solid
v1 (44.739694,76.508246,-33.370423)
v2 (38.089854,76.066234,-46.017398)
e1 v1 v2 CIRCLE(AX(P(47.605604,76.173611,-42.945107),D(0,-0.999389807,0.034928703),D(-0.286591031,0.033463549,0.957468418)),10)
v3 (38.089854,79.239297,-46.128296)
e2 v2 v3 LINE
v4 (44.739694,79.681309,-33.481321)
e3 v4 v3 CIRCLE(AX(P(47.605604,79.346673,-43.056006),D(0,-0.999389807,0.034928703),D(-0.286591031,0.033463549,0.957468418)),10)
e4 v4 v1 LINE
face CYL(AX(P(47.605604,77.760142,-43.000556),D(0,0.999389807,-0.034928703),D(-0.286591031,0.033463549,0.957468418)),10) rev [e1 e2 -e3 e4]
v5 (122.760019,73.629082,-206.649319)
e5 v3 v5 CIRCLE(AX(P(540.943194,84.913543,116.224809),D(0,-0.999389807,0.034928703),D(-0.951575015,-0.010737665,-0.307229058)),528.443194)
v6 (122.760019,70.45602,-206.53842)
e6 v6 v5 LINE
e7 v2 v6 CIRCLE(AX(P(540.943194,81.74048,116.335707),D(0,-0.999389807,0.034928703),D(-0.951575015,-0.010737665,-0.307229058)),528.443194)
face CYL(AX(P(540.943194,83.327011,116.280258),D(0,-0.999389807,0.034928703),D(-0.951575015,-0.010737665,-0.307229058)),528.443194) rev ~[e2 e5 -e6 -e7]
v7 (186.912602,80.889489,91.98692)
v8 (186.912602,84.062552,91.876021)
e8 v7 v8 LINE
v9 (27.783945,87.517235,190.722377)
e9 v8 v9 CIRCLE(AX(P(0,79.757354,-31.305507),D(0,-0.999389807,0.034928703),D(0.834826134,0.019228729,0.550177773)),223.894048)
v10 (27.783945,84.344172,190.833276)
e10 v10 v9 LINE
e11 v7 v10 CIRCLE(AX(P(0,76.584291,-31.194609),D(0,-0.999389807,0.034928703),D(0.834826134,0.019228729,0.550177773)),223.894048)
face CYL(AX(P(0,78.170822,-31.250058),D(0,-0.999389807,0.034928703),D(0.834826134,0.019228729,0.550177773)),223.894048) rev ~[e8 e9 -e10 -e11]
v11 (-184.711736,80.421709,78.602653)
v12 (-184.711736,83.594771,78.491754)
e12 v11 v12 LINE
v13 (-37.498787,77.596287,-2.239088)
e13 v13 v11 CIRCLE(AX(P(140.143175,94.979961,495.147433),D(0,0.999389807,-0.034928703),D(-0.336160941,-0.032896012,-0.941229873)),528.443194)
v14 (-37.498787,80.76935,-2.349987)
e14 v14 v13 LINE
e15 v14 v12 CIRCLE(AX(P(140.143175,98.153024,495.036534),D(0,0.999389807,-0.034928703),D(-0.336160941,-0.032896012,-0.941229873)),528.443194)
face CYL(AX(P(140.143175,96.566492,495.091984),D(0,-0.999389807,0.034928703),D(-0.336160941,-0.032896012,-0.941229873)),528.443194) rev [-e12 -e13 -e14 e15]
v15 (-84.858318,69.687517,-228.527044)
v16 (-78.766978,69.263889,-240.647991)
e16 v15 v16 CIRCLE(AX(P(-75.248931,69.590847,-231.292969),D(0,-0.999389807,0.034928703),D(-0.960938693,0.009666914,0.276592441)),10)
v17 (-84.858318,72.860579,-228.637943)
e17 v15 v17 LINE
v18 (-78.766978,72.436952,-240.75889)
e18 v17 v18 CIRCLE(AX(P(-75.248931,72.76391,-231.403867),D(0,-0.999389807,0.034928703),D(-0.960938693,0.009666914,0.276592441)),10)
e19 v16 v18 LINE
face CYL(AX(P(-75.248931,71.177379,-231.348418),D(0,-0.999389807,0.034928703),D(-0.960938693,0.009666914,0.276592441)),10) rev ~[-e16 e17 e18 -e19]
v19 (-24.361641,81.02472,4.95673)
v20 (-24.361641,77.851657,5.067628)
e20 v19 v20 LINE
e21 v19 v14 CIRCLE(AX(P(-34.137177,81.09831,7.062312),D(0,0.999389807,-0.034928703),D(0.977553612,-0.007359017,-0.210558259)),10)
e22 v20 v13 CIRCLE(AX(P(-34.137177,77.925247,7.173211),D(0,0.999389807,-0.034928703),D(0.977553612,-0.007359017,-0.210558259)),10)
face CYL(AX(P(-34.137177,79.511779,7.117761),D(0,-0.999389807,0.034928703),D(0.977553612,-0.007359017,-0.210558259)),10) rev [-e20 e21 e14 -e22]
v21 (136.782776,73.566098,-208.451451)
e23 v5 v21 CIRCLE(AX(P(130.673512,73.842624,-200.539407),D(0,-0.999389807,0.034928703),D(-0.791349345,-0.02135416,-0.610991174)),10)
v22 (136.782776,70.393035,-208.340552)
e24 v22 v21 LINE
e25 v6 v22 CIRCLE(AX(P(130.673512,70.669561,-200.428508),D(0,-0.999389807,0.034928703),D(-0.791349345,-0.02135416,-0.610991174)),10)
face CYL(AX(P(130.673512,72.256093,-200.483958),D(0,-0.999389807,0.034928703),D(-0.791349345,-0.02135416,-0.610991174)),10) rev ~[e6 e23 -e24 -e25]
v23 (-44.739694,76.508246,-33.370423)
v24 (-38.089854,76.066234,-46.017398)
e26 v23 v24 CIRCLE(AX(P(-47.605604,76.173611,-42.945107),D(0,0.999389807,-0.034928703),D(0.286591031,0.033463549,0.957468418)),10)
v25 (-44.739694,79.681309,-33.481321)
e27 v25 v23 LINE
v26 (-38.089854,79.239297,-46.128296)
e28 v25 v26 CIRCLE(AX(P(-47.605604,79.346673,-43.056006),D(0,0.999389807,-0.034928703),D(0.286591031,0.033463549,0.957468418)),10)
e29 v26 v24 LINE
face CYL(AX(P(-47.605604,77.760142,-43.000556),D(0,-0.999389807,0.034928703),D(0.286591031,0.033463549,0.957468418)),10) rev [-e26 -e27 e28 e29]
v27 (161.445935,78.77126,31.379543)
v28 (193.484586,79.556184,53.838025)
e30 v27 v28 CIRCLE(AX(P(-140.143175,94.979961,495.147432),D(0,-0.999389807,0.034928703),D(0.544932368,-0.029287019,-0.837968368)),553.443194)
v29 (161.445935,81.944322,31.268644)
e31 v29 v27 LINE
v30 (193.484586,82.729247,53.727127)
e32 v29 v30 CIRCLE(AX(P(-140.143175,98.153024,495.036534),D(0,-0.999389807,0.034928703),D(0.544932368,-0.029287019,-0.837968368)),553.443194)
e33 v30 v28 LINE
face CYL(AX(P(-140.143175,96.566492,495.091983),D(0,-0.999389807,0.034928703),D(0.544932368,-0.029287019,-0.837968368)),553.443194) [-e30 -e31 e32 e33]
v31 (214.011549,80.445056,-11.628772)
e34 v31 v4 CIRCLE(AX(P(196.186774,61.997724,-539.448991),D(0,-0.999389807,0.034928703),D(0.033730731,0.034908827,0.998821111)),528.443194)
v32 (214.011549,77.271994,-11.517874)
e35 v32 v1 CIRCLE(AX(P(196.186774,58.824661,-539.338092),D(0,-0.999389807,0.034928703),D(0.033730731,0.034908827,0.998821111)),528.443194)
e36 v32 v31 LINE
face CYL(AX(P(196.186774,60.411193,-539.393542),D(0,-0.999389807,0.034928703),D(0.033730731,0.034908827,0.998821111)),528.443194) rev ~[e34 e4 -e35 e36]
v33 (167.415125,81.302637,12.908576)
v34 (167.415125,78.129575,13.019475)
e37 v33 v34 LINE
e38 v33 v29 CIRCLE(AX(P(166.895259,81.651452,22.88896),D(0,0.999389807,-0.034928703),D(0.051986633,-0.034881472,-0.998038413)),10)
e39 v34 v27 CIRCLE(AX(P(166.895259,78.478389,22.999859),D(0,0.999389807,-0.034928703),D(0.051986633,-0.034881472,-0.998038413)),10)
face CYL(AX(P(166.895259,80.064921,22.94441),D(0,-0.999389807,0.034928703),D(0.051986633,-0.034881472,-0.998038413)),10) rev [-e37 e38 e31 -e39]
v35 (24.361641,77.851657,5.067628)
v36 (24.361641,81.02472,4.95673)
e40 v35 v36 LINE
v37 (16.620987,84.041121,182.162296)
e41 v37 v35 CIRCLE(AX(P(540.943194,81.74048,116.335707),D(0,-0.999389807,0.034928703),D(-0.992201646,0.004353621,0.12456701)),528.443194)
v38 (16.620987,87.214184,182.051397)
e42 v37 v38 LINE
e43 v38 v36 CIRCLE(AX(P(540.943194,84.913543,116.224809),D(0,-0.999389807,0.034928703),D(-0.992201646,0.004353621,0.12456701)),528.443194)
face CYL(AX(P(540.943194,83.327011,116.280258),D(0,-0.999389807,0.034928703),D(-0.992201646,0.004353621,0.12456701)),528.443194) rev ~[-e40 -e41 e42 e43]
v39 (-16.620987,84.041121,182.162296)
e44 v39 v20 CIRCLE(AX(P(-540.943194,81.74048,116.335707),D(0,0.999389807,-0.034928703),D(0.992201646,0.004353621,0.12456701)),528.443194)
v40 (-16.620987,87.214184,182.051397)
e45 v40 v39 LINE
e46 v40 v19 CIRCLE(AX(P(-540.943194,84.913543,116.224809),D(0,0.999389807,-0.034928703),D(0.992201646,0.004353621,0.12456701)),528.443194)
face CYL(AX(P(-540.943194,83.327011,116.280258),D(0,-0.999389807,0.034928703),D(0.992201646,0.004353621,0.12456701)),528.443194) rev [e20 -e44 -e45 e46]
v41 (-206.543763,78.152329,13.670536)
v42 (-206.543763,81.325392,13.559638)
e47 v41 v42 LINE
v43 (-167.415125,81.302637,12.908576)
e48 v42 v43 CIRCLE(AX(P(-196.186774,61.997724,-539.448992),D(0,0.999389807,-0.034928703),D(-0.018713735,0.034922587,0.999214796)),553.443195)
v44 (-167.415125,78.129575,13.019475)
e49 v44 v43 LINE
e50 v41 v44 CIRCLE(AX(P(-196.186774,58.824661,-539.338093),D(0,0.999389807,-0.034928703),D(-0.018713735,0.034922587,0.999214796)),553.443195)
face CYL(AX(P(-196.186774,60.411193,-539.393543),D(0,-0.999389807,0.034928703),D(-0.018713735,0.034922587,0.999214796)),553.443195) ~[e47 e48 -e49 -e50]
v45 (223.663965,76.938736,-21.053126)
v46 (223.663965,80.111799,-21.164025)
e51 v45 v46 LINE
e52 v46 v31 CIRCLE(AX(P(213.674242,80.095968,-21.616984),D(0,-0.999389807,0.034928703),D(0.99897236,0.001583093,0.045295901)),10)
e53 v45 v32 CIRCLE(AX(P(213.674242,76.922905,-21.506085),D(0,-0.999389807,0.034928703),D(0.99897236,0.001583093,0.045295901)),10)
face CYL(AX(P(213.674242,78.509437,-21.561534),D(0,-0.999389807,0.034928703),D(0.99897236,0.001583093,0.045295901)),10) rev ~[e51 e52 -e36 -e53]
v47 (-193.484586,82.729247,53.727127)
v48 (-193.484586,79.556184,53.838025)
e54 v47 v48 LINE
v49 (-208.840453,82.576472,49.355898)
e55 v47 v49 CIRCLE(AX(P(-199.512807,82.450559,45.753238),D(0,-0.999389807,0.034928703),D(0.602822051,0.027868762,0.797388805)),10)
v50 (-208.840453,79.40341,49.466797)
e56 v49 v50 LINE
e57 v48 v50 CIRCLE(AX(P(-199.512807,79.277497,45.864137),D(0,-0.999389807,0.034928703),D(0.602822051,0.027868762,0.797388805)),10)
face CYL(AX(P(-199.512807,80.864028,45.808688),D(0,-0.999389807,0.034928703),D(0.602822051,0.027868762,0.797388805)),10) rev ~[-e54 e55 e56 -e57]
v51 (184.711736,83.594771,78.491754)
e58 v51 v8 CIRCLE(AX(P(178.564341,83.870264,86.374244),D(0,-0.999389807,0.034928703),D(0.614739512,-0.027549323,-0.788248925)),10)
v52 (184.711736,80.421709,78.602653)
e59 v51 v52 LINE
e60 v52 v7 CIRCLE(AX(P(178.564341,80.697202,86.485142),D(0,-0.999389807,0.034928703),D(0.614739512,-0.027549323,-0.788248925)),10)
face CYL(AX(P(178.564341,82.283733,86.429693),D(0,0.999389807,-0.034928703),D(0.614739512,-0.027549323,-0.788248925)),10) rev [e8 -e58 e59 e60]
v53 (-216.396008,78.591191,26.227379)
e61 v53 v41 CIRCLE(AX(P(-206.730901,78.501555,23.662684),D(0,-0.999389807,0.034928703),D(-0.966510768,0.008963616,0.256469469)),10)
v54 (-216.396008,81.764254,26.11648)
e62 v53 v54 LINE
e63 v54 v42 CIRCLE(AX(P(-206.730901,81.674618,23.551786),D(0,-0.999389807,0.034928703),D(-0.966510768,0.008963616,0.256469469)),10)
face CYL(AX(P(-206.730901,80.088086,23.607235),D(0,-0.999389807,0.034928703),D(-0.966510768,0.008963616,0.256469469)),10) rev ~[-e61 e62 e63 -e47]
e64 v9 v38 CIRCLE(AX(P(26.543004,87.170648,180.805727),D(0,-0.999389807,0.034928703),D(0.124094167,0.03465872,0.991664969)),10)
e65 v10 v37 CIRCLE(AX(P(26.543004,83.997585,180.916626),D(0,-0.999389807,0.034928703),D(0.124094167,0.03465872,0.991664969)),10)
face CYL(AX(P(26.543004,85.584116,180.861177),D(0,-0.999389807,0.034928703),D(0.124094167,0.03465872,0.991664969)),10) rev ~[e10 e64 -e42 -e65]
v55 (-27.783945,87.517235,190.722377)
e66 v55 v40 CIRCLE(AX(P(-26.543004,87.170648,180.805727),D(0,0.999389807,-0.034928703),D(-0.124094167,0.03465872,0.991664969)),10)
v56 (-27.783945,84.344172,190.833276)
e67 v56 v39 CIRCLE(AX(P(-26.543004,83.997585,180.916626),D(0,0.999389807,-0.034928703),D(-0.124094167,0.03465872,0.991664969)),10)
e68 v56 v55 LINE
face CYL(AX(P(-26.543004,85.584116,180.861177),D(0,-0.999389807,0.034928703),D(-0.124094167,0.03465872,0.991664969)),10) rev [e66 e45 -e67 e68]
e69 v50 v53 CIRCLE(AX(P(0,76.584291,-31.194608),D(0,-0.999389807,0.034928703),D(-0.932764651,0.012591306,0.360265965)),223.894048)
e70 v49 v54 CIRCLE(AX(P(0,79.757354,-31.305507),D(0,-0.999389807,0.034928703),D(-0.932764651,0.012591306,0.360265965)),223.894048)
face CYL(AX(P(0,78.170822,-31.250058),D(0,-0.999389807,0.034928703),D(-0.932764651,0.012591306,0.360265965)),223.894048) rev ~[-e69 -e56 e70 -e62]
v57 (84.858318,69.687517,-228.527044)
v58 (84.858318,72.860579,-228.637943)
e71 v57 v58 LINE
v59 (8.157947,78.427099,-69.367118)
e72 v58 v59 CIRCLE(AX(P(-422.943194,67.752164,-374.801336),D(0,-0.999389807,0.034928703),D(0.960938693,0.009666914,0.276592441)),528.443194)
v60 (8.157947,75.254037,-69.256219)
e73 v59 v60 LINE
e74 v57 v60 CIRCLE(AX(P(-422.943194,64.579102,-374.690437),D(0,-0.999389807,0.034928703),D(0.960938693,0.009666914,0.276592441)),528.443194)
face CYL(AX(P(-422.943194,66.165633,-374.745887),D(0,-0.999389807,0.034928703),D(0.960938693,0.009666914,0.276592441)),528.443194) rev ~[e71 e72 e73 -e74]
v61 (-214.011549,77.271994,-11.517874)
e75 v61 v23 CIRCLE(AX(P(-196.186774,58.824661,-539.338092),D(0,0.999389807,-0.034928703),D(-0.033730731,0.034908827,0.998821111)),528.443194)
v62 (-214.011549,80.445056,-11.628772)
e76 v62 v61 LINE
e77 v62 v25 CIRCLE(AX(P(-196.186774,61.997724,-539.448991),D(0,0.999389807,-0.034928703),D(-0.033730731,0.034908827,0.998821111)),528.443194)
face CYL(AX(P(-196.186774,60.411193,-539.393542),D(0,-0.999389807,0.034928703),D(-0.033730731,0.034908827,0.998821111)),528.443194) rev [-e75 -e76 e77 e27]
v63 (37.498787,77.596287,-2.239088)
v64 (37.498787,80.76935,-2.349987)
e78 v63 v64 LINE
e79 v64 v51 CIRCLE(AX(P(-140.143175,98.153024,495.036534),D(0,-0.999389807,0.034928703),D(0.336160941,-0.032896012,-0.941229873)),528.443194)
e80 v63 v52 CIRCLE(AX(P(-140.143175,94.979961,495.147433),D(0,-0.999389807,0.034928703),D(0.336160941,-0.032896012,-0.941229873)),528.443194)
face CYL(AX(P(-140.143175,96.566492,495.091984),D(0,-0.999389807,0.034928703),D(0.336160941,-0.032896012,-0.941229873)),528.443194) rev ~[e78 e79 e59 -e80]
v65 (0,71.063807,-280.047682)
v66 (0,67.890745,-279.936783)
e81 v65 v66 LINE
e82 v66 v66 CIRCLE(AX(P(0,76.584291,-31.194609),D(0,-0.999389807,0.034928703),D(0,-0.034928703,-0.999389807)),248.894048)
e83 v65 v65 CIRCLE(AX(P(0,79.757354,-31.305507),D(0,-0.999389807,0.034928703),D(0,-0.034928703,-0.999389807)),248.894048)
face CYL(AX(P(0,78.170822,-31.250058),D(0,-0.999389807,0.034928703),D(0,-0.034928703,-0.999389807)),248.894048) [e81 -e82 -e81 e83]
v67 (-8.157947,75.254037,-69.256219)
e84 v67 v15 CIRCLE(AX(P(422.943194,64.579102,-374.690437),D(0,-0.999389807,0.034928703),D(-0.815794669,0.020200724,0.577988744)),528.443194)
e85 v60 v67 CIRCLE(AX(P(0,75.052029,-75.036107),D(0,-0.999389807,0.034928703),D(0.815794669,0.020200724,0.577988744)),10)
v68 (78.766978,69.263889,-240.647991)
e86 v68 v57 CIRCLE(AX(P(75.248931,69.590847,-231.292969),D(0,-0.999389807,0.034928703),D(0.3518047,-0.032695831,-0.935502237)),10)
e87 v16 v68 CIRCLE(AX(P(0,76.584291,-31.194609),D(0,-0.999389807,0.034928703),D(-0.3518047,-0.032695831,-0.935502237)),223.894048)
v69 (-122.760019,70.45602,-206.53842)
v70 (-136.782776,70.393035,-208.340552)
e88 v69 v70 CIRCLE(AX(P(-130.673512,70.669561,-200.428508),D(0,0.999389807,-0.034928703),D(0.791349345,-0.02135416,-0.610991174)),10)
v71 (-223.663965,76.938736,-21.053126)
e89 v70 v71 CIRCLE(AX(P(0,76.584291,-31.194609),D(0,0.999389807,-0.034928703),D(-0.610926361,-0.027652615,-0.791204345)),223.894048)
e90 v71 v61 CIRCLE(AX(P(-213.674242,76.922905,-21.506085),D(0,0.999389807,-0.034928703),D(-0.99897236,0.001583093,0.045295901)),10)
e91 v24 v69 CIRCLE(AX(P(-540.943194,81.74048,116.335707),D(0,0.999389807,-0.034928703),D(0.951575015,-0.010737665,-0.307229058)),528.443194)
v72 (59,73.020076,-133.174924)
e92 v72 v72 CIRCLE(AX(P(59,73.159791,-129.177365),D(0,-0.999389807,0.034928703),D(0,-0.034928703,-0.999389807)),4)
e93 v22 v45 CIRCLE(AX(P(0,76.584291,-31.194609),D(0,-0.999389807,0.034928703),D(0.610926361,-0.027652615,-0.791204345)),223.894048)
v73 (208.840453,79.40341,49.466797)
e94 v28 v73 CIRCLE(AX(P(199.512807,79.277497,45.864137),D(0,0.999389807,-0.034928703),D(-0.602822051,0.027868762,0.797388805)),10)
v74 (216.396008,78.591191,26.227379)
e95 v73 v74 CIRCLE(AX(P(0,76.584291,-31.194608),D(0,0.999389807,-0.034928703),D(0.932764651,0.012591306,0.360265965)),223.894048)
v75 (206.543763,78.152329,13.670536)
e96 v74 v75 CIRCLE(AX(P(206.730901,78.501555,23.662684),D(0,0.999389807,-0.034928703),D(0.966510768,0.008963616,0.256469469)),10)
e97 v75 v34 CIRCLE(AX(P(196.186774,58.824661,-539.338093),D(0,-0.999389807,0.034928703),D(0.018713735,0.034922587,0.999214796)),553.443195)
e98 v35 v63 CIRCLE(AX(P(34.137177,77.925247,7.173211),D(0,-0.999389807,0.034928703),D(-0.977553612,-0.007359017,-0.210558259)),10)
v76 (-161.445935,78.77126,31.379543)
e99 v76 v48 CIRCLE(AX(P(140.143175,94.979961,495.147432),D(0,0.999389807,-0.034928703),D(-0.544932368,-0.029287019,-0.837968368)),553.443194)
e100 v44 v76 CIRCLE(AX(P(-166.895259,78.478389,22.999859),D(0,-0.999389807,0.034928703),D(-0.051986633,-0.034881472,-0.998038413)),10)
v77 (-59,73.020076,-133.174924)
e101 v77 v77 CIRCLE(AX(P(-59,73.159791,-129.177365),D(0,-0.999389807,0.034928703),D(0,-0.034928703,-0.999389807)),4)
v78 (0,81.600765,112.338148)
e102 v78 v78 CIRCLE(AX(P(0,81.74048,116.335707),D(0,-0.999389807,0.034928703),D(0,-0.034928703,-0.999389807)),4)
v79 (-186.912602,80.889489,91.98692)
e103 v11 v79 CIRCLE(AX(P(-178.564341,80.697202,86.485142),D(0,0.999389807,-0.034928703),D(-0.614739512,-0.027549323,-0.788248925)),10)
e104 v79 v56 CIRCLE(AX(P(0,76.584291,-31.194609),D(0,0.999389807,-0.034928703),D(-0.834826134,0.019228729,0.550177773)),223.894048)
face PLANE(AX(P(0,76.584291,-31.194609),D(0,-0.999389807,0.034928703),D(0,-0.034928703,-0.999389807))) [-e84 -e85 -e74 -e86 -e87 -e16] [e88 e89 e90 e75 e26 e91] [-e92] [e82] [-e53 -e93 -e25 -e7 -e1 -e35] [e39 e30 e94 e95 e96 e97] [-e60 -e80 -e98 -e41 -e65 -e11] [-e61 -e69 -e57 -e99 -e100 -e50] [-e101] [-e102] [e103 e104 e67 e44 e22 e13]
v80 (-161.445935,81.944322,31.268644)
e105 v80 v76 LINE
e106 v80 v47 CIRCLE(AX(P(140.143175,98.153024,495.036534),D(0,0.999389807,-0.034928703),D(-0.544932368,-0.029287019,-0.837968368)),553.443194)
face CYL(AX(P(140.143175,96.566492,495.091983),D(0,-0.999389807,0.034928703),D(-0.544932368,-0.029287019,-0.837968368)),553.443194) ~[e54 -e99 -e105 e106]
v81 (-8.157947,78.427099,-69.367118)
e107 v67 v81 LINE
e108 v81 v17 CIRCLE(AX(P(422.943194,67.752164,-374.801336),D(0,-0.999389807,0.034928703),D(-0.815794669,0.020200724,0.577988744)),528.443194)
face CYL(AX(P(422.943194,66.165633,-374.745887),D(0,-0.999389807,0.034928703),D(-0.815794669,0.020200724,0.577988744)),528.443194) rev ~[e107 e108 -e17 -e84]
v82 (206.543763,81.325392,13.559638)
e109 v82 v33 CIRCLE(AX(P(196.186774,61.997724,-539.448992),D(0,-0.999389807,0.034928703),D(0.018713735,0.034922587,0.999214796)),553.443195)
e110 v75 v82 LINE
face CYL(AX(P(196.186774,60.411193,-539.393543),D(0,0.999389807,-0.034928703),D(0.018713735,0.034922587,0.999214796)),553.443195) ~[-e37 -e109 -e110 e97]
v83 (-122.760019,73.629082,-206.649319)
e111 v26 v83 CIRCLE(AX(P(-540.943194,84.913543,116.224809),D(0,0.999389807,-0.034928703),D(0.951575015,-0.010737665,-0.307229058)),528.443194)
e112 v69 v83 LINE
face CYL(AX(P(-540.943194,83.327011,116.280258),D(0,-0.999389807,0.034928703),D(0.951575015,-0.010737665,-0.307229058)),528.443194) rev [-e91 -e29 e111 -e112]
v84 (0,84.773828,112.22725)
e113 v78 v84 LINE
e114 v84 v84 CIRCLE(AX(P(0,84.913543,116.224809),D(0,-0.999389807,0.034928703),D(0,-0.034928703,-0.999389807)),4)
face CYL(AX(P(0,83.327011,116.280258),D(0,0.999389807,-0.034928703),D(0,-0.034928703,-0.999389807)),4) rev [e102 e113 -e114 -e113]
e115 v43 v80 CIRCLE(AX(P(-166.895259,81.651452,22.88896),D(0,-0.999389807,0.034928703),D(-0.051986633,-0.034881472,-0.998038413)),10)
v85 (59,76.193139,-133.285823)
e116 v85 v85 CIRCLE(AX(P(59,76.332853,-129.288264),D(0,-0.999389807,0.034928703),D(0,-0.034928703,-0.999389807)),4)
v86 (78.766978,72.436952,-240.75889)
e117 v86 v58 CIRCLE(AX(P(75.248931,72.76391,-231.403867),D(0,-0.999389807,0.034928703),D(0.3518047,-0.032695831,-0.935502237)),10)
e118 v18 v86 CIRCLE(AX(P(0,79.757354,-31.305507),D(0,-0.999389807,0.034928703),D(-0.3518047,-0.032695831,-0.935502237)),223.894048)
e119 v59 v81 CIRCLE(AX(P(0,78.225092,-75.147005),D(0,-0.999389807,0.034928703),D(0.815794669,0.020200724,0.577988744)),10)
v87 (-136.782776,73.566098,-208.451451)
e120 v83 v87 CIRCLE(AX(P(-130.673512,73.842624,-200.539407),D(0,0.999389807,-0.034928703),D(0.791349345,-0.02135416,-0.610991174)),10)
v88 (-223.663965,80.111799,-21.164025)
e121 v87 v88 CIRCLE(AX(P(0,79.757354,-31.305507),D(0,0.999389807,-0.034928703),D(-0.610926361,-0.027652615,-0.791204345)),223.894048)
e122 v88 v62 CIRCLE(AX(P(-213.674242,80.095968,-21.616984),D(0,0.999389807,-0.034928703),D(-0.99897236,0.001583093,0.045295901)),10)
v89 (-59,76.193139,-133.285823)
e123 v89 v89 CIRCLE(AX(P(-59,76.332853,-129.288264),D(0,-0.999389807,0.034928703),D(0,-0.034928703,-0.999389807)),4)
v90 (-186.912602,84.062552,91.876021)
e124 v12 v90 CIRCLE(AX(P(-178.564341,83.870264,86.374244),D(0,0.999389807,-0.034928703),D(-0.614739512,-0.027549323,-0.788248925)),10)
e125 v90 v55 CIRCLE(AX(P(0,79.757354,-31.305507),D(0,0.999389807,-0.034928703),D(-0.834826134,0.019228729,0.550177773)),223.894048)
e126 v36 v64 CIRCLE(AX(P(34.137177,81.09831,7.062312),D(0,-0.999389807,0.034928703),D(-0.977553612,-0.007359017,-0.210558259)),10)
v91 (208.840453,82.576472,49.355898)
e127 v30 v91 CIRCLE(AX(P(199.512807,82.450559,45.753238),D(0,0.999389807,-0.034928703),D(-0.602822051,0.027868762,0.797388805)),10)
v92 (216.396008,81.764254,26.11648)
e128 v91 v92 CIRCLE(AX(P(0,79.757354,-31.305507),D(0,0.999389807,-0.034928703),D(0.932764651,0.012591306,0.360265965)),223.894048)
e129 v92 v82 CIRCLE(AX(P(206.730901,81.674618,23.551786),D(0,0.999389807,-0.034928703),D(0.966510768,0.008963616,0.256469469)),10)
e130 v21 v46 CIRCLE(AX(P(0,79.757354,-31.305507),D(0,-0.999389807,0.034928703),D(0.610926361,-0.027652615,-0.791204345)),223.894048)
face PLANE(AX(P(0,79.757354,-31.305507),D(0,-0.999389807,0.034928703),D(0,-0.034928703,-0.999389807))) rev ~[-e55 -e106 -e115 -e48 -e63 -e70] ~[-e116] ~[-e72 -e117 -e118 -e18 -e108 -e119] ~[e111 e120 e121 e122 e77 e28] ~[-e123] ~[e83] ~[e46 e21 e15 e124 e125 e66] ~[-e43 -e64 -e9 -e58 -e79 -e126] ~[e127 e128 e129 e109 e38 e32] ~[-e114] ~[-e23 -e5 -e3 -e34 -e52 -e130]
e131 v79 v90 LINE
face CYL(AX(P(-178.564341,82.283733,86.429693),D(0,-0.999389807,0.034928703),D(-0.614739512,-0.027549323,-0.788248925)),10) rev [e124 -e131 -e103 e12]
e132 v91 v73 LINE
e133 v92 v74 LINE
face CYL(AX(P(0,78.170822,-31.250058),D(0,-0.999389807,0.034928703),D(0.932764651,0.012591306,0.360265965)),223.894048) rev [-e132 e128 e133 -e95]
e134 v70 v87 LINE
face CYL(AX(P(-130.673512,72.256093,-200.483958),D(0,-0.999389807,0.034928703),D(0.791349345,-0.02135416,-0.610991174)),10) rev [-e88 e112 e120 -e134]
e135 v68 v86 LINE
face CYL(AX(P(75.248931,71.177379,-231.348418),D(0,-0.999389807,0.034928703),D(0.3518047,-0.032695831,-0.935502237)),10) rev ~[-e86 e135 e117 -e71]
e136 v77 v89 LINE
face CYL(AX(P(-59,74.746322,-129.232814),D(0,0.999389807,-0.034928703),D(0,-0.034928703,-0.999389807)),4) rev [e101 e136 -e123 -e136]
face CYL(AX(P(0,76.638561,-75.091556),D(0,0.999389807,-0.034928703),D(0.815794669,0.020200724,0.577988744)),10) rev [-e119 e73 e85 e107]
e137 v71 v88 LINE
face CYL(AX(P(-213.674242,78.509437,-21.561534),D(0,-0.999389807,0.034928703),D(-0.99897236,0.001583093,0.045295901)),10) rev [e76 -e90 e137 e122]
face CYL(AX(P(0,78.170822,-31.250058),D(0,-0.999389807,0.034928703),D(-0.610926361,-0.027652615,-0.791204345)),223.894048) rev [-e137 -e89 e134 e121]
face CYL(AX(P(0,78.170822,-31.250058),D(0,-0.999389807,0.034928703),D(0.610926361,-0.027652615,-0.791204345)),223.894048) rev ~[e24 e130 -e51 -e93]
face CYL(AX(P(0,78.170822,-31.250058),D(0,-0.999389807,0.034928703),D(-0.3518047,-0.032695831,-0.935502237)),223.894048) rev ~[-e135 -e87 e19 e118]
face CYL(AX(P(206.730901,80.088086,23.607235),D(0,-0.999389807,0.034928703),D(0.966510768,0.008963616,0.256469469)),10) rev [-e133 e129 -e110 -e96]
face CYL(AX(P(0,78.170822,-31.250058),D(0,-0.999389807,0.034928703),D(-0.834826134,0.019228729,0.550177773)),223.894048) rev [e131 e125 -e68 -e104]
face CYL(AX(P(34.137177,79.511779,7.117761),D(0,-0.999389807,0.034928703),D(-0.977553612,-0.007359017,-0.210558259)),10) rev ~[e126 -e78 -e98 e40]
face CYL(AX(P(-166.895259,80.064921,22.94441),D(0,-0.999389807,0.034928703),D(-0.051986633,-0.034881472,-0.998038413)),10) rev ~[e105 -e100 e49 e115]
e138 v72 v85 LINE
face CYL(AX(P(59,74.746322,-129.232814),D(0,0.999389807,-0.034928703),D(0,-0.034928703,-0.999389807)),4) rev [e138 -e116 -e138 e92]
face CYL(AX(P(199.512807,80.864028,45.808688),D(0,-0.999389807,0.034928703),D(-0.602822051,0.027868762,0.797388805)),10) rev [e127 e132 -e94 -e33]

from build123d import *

# Parameters (mm, degrees)
SKETCH1_R           = 248.894047882
SKETCH1_R_2         = 4
BOSS_EXTRUDE1_DEPTH = 1.5875


with BuildPart() as part:
    # Sketch1 → Boss-Extrude1 (new, symmetric)
    with BuildSketch(Plane(origin=(0, 79.166310833, -2.766864901), x_dir=(0, -0.03492870325036397, -0.9993898066766781), z_dir=(0, -0.9993898066766781, 0.03492870325036397))):
        with Locations((28.500583785, 0)):
            Circle(SKETCH1_R)
        with Locations((-119.119809099, 0)):
            Circle(SKETCH1_R_2, mode=Mode.SUBTRACT)
        with Locations((126.54316519, -59)):
            Circle(SKETCH1_R_2, mode=Mode.SUBTRACT)
        with Locations((126.54316519, 59)):
            Circle(SKETCH1_R_2, mode=Mode.SUBTRACT)
        with BuildLine():
            ThreePointArc((238.081851524, -78.766978422), (252.394631667, 0), (238.081851524, 78.766978422))
            ThreePointArc((238.081851524, 78.766978422), (233.209259095, 84.18518249), (225.953504109, 84.858318353))
            ThreePointArc((225.953504109, 84.858318353), (143.037826046, 53.222841583), (66.585433619, 8.157946694))
            ThreePointArc((66.585433619, 8.157946694), (62.36885006, 0), (66.585433619, -8.157946694))
            ThreePointArc((66.585433619, -8.157946694), (143.037826046, -53.222841583), (225.953504109, -84.858318353))
            ThreePointArc((225.953504109, -84.858318353), (233.209259095, -84.18518249), (238.081851524, -78.766978422))
        make_face(mode=Mode.SUBTRACT)
        with BuildLine():
            ThreePointArc((-184.986589143, 16.62098717), (-96.058103224, 13.003455955), (-7.783793413, 24.361640995))
            ThreePointArc((-7.783793413, 24.361640995), (-1.152695169, 29.274262086), (-0.472616045, 37.498786528))
            ThreePointArc((-0.472616045, 37.498786528), (-35.031535638, 114.339868269), (-81.363716284, 184.71173625))
            ThreePointArc((-81.363716284, 184.71173625), (-87.629404707, 188.431983672), (-94.756155234, 186.912602473))
            ThreePointArc((-94.756155234, 186.912602473), (-161.65529586, 118.191734539), (-193.66286294, 27.783945296))
            ThreePointArc((-193.66286294, 27.783945296), (-191.635746069, 20.406253949), (-184.986589143, 16.62098717))
        make_face(mode=Mode.SUBTRACT)
        with BuildLine():
            ThreePointArc((-184.986589143, -16.62098717), (-96.058103224, -13.003455955), (-7.783793413, -24.361640995))
            ThreePointArc((-7.783793413, -24.361640995), (-1.152695169, -29.274262086), (-0.472616045, -37.498786528))
            ThreePointArc((-0.472616045, -37.498786528), (-35.031535638, -114.339868269), (-81.363716284, -184.71173625))
            ThreePointArc((-81.363716284, -184.71173625), (-87.629404707, -188.431983672), (-94.756155234, -186.912602473))
            ThreePointArc((-94.756155234, -186.912602473), (-161.65529586, -118.191734539), (-193.66286294, -27.783945296))
            ThreePointArc((-193.66286294, -27.783945296), (-191.635746069, -20.406253949), (-184.986589143, -16.62098717))
        make_face(mode=Mode.SUBTRACT)
        with BuildLine():
            ThreePointArc((205.754686462, 136.78277582), (122.671836524, 203.126364203), (18.352909122, 223.663965305))
            ThreePointArc((18.352909122, 223.663965305), (11.694176969, 220.704171659), (8.811835123, 214.01154902))
            ThreePointArc((8.811835123, 214.01154902), (12.86563705, 128.486999921), (30.677726566, 44.739693841))
            ThreePointArc((30.677726566, 44.739693841), (35.60655975, 38.753388876), (43.332423143, 38.089854005))
            ThreePointArc((43.332423143, 38.089854005), (127.305687629, 73.474816574), (203.951454434, 122.760018767))
            ThreePointArc((203.951454434, 122.760018767), (207.756142558, 129.39808179), (205.754686462, 136.78277582))
        make_face(mode=Mode.SUBTRACT)
        with BuildLine():
            ThreePointArc((8.811835123, -214.01154902), (12.86563705, -128.486999921), (30.677726566, -44.739693841))
            ThreePointArc((30.677726566, -44.739693841), (35.60655975, -38.753388876), (43.332423143, -38.089854005))
            ThreePointArc((43.332423143, -38.089854005), (127.305687629, -73.474816574), (203.951454434, -122.760018767))
            ThreePointArc((203.951454434, -122.760018767), (207.756142558, -129.39808179), (205.754686462, -136.78277582))
            ThreePointArc((205.754686462, -136.78277582), (122.671836524, -203.126364203), (18.352909122, -223.663965305))
            ThreePointArc((18.352909122, -223.663965305), (11.694176969, -220.704171659), (8.811835123, -214.01154902))
        make_face(mode=Mode.SUBTRACT)
        with BuildLine():
            ThreePointArc((-52.210070583, -208.840453333), (-40.68648195, -212.935893198), (-28.956463756, -216.3960082))
            ThreePointArc((-28.956463756, -216.3960082), (-20.219684914, -214.600125685), (-16.391954321, -206.543763165))
            ThreePointArc((-16.391954321, -206.543763165), (-16.412181984, -186.973684298), (-15.74049523, -167.415125227))
            ThreePointArc((-15.74049523, -167.415125227), (-22.636803093, -157.38469373), (-34.111773062, -161.445935215))
            ThreePointArc((-34.111773062, -161.445935215), (-45.06459964, -177.663949457), (-56.583967908, -193.484586319))
            ThreePointArc((-56.583967908, -193.484586319), (-58.222679885, -202.252204103), (-52.210070583, -208.840453333))
        make_face(mode=Mode.SUBTRACT)
        with BuildLine():
            ThreePointArc((-16.391954321, 206.543763165), (-16.412181984, 186.973684298), (-15.74049523, 167.415125227))
            ThreePointArc((-15.74049523, 167.415125227), (-22.636803093, 157.38469373), (-34.111773062, 161.445935215))
            ThreePointArc((-34.111773062, 161.445935215), (-45.06459964, 177.663949457), (-56.583967908, 193.484586319))
            ThreePointArc((-56.583967908, 193.484586319), (-58.222679885, 202.252204103), (-52.210070583, 208.840453333))
            ThreePointArc((-52.210070583, 208.840453333), (-40.68648195, 212.935893198), (-28.956463756, 216.3960082))
            ThreePointArc((-28.956463756, 216.3960082), (-20.219684914, 214.600125685), (-16.391954321, 206.543763165))
        make_face(mode=Mode.SUBTRACT)
    extrude(amount=BOSS_EXTRUDE1_DEPTH, both=True)


solid = part.part
